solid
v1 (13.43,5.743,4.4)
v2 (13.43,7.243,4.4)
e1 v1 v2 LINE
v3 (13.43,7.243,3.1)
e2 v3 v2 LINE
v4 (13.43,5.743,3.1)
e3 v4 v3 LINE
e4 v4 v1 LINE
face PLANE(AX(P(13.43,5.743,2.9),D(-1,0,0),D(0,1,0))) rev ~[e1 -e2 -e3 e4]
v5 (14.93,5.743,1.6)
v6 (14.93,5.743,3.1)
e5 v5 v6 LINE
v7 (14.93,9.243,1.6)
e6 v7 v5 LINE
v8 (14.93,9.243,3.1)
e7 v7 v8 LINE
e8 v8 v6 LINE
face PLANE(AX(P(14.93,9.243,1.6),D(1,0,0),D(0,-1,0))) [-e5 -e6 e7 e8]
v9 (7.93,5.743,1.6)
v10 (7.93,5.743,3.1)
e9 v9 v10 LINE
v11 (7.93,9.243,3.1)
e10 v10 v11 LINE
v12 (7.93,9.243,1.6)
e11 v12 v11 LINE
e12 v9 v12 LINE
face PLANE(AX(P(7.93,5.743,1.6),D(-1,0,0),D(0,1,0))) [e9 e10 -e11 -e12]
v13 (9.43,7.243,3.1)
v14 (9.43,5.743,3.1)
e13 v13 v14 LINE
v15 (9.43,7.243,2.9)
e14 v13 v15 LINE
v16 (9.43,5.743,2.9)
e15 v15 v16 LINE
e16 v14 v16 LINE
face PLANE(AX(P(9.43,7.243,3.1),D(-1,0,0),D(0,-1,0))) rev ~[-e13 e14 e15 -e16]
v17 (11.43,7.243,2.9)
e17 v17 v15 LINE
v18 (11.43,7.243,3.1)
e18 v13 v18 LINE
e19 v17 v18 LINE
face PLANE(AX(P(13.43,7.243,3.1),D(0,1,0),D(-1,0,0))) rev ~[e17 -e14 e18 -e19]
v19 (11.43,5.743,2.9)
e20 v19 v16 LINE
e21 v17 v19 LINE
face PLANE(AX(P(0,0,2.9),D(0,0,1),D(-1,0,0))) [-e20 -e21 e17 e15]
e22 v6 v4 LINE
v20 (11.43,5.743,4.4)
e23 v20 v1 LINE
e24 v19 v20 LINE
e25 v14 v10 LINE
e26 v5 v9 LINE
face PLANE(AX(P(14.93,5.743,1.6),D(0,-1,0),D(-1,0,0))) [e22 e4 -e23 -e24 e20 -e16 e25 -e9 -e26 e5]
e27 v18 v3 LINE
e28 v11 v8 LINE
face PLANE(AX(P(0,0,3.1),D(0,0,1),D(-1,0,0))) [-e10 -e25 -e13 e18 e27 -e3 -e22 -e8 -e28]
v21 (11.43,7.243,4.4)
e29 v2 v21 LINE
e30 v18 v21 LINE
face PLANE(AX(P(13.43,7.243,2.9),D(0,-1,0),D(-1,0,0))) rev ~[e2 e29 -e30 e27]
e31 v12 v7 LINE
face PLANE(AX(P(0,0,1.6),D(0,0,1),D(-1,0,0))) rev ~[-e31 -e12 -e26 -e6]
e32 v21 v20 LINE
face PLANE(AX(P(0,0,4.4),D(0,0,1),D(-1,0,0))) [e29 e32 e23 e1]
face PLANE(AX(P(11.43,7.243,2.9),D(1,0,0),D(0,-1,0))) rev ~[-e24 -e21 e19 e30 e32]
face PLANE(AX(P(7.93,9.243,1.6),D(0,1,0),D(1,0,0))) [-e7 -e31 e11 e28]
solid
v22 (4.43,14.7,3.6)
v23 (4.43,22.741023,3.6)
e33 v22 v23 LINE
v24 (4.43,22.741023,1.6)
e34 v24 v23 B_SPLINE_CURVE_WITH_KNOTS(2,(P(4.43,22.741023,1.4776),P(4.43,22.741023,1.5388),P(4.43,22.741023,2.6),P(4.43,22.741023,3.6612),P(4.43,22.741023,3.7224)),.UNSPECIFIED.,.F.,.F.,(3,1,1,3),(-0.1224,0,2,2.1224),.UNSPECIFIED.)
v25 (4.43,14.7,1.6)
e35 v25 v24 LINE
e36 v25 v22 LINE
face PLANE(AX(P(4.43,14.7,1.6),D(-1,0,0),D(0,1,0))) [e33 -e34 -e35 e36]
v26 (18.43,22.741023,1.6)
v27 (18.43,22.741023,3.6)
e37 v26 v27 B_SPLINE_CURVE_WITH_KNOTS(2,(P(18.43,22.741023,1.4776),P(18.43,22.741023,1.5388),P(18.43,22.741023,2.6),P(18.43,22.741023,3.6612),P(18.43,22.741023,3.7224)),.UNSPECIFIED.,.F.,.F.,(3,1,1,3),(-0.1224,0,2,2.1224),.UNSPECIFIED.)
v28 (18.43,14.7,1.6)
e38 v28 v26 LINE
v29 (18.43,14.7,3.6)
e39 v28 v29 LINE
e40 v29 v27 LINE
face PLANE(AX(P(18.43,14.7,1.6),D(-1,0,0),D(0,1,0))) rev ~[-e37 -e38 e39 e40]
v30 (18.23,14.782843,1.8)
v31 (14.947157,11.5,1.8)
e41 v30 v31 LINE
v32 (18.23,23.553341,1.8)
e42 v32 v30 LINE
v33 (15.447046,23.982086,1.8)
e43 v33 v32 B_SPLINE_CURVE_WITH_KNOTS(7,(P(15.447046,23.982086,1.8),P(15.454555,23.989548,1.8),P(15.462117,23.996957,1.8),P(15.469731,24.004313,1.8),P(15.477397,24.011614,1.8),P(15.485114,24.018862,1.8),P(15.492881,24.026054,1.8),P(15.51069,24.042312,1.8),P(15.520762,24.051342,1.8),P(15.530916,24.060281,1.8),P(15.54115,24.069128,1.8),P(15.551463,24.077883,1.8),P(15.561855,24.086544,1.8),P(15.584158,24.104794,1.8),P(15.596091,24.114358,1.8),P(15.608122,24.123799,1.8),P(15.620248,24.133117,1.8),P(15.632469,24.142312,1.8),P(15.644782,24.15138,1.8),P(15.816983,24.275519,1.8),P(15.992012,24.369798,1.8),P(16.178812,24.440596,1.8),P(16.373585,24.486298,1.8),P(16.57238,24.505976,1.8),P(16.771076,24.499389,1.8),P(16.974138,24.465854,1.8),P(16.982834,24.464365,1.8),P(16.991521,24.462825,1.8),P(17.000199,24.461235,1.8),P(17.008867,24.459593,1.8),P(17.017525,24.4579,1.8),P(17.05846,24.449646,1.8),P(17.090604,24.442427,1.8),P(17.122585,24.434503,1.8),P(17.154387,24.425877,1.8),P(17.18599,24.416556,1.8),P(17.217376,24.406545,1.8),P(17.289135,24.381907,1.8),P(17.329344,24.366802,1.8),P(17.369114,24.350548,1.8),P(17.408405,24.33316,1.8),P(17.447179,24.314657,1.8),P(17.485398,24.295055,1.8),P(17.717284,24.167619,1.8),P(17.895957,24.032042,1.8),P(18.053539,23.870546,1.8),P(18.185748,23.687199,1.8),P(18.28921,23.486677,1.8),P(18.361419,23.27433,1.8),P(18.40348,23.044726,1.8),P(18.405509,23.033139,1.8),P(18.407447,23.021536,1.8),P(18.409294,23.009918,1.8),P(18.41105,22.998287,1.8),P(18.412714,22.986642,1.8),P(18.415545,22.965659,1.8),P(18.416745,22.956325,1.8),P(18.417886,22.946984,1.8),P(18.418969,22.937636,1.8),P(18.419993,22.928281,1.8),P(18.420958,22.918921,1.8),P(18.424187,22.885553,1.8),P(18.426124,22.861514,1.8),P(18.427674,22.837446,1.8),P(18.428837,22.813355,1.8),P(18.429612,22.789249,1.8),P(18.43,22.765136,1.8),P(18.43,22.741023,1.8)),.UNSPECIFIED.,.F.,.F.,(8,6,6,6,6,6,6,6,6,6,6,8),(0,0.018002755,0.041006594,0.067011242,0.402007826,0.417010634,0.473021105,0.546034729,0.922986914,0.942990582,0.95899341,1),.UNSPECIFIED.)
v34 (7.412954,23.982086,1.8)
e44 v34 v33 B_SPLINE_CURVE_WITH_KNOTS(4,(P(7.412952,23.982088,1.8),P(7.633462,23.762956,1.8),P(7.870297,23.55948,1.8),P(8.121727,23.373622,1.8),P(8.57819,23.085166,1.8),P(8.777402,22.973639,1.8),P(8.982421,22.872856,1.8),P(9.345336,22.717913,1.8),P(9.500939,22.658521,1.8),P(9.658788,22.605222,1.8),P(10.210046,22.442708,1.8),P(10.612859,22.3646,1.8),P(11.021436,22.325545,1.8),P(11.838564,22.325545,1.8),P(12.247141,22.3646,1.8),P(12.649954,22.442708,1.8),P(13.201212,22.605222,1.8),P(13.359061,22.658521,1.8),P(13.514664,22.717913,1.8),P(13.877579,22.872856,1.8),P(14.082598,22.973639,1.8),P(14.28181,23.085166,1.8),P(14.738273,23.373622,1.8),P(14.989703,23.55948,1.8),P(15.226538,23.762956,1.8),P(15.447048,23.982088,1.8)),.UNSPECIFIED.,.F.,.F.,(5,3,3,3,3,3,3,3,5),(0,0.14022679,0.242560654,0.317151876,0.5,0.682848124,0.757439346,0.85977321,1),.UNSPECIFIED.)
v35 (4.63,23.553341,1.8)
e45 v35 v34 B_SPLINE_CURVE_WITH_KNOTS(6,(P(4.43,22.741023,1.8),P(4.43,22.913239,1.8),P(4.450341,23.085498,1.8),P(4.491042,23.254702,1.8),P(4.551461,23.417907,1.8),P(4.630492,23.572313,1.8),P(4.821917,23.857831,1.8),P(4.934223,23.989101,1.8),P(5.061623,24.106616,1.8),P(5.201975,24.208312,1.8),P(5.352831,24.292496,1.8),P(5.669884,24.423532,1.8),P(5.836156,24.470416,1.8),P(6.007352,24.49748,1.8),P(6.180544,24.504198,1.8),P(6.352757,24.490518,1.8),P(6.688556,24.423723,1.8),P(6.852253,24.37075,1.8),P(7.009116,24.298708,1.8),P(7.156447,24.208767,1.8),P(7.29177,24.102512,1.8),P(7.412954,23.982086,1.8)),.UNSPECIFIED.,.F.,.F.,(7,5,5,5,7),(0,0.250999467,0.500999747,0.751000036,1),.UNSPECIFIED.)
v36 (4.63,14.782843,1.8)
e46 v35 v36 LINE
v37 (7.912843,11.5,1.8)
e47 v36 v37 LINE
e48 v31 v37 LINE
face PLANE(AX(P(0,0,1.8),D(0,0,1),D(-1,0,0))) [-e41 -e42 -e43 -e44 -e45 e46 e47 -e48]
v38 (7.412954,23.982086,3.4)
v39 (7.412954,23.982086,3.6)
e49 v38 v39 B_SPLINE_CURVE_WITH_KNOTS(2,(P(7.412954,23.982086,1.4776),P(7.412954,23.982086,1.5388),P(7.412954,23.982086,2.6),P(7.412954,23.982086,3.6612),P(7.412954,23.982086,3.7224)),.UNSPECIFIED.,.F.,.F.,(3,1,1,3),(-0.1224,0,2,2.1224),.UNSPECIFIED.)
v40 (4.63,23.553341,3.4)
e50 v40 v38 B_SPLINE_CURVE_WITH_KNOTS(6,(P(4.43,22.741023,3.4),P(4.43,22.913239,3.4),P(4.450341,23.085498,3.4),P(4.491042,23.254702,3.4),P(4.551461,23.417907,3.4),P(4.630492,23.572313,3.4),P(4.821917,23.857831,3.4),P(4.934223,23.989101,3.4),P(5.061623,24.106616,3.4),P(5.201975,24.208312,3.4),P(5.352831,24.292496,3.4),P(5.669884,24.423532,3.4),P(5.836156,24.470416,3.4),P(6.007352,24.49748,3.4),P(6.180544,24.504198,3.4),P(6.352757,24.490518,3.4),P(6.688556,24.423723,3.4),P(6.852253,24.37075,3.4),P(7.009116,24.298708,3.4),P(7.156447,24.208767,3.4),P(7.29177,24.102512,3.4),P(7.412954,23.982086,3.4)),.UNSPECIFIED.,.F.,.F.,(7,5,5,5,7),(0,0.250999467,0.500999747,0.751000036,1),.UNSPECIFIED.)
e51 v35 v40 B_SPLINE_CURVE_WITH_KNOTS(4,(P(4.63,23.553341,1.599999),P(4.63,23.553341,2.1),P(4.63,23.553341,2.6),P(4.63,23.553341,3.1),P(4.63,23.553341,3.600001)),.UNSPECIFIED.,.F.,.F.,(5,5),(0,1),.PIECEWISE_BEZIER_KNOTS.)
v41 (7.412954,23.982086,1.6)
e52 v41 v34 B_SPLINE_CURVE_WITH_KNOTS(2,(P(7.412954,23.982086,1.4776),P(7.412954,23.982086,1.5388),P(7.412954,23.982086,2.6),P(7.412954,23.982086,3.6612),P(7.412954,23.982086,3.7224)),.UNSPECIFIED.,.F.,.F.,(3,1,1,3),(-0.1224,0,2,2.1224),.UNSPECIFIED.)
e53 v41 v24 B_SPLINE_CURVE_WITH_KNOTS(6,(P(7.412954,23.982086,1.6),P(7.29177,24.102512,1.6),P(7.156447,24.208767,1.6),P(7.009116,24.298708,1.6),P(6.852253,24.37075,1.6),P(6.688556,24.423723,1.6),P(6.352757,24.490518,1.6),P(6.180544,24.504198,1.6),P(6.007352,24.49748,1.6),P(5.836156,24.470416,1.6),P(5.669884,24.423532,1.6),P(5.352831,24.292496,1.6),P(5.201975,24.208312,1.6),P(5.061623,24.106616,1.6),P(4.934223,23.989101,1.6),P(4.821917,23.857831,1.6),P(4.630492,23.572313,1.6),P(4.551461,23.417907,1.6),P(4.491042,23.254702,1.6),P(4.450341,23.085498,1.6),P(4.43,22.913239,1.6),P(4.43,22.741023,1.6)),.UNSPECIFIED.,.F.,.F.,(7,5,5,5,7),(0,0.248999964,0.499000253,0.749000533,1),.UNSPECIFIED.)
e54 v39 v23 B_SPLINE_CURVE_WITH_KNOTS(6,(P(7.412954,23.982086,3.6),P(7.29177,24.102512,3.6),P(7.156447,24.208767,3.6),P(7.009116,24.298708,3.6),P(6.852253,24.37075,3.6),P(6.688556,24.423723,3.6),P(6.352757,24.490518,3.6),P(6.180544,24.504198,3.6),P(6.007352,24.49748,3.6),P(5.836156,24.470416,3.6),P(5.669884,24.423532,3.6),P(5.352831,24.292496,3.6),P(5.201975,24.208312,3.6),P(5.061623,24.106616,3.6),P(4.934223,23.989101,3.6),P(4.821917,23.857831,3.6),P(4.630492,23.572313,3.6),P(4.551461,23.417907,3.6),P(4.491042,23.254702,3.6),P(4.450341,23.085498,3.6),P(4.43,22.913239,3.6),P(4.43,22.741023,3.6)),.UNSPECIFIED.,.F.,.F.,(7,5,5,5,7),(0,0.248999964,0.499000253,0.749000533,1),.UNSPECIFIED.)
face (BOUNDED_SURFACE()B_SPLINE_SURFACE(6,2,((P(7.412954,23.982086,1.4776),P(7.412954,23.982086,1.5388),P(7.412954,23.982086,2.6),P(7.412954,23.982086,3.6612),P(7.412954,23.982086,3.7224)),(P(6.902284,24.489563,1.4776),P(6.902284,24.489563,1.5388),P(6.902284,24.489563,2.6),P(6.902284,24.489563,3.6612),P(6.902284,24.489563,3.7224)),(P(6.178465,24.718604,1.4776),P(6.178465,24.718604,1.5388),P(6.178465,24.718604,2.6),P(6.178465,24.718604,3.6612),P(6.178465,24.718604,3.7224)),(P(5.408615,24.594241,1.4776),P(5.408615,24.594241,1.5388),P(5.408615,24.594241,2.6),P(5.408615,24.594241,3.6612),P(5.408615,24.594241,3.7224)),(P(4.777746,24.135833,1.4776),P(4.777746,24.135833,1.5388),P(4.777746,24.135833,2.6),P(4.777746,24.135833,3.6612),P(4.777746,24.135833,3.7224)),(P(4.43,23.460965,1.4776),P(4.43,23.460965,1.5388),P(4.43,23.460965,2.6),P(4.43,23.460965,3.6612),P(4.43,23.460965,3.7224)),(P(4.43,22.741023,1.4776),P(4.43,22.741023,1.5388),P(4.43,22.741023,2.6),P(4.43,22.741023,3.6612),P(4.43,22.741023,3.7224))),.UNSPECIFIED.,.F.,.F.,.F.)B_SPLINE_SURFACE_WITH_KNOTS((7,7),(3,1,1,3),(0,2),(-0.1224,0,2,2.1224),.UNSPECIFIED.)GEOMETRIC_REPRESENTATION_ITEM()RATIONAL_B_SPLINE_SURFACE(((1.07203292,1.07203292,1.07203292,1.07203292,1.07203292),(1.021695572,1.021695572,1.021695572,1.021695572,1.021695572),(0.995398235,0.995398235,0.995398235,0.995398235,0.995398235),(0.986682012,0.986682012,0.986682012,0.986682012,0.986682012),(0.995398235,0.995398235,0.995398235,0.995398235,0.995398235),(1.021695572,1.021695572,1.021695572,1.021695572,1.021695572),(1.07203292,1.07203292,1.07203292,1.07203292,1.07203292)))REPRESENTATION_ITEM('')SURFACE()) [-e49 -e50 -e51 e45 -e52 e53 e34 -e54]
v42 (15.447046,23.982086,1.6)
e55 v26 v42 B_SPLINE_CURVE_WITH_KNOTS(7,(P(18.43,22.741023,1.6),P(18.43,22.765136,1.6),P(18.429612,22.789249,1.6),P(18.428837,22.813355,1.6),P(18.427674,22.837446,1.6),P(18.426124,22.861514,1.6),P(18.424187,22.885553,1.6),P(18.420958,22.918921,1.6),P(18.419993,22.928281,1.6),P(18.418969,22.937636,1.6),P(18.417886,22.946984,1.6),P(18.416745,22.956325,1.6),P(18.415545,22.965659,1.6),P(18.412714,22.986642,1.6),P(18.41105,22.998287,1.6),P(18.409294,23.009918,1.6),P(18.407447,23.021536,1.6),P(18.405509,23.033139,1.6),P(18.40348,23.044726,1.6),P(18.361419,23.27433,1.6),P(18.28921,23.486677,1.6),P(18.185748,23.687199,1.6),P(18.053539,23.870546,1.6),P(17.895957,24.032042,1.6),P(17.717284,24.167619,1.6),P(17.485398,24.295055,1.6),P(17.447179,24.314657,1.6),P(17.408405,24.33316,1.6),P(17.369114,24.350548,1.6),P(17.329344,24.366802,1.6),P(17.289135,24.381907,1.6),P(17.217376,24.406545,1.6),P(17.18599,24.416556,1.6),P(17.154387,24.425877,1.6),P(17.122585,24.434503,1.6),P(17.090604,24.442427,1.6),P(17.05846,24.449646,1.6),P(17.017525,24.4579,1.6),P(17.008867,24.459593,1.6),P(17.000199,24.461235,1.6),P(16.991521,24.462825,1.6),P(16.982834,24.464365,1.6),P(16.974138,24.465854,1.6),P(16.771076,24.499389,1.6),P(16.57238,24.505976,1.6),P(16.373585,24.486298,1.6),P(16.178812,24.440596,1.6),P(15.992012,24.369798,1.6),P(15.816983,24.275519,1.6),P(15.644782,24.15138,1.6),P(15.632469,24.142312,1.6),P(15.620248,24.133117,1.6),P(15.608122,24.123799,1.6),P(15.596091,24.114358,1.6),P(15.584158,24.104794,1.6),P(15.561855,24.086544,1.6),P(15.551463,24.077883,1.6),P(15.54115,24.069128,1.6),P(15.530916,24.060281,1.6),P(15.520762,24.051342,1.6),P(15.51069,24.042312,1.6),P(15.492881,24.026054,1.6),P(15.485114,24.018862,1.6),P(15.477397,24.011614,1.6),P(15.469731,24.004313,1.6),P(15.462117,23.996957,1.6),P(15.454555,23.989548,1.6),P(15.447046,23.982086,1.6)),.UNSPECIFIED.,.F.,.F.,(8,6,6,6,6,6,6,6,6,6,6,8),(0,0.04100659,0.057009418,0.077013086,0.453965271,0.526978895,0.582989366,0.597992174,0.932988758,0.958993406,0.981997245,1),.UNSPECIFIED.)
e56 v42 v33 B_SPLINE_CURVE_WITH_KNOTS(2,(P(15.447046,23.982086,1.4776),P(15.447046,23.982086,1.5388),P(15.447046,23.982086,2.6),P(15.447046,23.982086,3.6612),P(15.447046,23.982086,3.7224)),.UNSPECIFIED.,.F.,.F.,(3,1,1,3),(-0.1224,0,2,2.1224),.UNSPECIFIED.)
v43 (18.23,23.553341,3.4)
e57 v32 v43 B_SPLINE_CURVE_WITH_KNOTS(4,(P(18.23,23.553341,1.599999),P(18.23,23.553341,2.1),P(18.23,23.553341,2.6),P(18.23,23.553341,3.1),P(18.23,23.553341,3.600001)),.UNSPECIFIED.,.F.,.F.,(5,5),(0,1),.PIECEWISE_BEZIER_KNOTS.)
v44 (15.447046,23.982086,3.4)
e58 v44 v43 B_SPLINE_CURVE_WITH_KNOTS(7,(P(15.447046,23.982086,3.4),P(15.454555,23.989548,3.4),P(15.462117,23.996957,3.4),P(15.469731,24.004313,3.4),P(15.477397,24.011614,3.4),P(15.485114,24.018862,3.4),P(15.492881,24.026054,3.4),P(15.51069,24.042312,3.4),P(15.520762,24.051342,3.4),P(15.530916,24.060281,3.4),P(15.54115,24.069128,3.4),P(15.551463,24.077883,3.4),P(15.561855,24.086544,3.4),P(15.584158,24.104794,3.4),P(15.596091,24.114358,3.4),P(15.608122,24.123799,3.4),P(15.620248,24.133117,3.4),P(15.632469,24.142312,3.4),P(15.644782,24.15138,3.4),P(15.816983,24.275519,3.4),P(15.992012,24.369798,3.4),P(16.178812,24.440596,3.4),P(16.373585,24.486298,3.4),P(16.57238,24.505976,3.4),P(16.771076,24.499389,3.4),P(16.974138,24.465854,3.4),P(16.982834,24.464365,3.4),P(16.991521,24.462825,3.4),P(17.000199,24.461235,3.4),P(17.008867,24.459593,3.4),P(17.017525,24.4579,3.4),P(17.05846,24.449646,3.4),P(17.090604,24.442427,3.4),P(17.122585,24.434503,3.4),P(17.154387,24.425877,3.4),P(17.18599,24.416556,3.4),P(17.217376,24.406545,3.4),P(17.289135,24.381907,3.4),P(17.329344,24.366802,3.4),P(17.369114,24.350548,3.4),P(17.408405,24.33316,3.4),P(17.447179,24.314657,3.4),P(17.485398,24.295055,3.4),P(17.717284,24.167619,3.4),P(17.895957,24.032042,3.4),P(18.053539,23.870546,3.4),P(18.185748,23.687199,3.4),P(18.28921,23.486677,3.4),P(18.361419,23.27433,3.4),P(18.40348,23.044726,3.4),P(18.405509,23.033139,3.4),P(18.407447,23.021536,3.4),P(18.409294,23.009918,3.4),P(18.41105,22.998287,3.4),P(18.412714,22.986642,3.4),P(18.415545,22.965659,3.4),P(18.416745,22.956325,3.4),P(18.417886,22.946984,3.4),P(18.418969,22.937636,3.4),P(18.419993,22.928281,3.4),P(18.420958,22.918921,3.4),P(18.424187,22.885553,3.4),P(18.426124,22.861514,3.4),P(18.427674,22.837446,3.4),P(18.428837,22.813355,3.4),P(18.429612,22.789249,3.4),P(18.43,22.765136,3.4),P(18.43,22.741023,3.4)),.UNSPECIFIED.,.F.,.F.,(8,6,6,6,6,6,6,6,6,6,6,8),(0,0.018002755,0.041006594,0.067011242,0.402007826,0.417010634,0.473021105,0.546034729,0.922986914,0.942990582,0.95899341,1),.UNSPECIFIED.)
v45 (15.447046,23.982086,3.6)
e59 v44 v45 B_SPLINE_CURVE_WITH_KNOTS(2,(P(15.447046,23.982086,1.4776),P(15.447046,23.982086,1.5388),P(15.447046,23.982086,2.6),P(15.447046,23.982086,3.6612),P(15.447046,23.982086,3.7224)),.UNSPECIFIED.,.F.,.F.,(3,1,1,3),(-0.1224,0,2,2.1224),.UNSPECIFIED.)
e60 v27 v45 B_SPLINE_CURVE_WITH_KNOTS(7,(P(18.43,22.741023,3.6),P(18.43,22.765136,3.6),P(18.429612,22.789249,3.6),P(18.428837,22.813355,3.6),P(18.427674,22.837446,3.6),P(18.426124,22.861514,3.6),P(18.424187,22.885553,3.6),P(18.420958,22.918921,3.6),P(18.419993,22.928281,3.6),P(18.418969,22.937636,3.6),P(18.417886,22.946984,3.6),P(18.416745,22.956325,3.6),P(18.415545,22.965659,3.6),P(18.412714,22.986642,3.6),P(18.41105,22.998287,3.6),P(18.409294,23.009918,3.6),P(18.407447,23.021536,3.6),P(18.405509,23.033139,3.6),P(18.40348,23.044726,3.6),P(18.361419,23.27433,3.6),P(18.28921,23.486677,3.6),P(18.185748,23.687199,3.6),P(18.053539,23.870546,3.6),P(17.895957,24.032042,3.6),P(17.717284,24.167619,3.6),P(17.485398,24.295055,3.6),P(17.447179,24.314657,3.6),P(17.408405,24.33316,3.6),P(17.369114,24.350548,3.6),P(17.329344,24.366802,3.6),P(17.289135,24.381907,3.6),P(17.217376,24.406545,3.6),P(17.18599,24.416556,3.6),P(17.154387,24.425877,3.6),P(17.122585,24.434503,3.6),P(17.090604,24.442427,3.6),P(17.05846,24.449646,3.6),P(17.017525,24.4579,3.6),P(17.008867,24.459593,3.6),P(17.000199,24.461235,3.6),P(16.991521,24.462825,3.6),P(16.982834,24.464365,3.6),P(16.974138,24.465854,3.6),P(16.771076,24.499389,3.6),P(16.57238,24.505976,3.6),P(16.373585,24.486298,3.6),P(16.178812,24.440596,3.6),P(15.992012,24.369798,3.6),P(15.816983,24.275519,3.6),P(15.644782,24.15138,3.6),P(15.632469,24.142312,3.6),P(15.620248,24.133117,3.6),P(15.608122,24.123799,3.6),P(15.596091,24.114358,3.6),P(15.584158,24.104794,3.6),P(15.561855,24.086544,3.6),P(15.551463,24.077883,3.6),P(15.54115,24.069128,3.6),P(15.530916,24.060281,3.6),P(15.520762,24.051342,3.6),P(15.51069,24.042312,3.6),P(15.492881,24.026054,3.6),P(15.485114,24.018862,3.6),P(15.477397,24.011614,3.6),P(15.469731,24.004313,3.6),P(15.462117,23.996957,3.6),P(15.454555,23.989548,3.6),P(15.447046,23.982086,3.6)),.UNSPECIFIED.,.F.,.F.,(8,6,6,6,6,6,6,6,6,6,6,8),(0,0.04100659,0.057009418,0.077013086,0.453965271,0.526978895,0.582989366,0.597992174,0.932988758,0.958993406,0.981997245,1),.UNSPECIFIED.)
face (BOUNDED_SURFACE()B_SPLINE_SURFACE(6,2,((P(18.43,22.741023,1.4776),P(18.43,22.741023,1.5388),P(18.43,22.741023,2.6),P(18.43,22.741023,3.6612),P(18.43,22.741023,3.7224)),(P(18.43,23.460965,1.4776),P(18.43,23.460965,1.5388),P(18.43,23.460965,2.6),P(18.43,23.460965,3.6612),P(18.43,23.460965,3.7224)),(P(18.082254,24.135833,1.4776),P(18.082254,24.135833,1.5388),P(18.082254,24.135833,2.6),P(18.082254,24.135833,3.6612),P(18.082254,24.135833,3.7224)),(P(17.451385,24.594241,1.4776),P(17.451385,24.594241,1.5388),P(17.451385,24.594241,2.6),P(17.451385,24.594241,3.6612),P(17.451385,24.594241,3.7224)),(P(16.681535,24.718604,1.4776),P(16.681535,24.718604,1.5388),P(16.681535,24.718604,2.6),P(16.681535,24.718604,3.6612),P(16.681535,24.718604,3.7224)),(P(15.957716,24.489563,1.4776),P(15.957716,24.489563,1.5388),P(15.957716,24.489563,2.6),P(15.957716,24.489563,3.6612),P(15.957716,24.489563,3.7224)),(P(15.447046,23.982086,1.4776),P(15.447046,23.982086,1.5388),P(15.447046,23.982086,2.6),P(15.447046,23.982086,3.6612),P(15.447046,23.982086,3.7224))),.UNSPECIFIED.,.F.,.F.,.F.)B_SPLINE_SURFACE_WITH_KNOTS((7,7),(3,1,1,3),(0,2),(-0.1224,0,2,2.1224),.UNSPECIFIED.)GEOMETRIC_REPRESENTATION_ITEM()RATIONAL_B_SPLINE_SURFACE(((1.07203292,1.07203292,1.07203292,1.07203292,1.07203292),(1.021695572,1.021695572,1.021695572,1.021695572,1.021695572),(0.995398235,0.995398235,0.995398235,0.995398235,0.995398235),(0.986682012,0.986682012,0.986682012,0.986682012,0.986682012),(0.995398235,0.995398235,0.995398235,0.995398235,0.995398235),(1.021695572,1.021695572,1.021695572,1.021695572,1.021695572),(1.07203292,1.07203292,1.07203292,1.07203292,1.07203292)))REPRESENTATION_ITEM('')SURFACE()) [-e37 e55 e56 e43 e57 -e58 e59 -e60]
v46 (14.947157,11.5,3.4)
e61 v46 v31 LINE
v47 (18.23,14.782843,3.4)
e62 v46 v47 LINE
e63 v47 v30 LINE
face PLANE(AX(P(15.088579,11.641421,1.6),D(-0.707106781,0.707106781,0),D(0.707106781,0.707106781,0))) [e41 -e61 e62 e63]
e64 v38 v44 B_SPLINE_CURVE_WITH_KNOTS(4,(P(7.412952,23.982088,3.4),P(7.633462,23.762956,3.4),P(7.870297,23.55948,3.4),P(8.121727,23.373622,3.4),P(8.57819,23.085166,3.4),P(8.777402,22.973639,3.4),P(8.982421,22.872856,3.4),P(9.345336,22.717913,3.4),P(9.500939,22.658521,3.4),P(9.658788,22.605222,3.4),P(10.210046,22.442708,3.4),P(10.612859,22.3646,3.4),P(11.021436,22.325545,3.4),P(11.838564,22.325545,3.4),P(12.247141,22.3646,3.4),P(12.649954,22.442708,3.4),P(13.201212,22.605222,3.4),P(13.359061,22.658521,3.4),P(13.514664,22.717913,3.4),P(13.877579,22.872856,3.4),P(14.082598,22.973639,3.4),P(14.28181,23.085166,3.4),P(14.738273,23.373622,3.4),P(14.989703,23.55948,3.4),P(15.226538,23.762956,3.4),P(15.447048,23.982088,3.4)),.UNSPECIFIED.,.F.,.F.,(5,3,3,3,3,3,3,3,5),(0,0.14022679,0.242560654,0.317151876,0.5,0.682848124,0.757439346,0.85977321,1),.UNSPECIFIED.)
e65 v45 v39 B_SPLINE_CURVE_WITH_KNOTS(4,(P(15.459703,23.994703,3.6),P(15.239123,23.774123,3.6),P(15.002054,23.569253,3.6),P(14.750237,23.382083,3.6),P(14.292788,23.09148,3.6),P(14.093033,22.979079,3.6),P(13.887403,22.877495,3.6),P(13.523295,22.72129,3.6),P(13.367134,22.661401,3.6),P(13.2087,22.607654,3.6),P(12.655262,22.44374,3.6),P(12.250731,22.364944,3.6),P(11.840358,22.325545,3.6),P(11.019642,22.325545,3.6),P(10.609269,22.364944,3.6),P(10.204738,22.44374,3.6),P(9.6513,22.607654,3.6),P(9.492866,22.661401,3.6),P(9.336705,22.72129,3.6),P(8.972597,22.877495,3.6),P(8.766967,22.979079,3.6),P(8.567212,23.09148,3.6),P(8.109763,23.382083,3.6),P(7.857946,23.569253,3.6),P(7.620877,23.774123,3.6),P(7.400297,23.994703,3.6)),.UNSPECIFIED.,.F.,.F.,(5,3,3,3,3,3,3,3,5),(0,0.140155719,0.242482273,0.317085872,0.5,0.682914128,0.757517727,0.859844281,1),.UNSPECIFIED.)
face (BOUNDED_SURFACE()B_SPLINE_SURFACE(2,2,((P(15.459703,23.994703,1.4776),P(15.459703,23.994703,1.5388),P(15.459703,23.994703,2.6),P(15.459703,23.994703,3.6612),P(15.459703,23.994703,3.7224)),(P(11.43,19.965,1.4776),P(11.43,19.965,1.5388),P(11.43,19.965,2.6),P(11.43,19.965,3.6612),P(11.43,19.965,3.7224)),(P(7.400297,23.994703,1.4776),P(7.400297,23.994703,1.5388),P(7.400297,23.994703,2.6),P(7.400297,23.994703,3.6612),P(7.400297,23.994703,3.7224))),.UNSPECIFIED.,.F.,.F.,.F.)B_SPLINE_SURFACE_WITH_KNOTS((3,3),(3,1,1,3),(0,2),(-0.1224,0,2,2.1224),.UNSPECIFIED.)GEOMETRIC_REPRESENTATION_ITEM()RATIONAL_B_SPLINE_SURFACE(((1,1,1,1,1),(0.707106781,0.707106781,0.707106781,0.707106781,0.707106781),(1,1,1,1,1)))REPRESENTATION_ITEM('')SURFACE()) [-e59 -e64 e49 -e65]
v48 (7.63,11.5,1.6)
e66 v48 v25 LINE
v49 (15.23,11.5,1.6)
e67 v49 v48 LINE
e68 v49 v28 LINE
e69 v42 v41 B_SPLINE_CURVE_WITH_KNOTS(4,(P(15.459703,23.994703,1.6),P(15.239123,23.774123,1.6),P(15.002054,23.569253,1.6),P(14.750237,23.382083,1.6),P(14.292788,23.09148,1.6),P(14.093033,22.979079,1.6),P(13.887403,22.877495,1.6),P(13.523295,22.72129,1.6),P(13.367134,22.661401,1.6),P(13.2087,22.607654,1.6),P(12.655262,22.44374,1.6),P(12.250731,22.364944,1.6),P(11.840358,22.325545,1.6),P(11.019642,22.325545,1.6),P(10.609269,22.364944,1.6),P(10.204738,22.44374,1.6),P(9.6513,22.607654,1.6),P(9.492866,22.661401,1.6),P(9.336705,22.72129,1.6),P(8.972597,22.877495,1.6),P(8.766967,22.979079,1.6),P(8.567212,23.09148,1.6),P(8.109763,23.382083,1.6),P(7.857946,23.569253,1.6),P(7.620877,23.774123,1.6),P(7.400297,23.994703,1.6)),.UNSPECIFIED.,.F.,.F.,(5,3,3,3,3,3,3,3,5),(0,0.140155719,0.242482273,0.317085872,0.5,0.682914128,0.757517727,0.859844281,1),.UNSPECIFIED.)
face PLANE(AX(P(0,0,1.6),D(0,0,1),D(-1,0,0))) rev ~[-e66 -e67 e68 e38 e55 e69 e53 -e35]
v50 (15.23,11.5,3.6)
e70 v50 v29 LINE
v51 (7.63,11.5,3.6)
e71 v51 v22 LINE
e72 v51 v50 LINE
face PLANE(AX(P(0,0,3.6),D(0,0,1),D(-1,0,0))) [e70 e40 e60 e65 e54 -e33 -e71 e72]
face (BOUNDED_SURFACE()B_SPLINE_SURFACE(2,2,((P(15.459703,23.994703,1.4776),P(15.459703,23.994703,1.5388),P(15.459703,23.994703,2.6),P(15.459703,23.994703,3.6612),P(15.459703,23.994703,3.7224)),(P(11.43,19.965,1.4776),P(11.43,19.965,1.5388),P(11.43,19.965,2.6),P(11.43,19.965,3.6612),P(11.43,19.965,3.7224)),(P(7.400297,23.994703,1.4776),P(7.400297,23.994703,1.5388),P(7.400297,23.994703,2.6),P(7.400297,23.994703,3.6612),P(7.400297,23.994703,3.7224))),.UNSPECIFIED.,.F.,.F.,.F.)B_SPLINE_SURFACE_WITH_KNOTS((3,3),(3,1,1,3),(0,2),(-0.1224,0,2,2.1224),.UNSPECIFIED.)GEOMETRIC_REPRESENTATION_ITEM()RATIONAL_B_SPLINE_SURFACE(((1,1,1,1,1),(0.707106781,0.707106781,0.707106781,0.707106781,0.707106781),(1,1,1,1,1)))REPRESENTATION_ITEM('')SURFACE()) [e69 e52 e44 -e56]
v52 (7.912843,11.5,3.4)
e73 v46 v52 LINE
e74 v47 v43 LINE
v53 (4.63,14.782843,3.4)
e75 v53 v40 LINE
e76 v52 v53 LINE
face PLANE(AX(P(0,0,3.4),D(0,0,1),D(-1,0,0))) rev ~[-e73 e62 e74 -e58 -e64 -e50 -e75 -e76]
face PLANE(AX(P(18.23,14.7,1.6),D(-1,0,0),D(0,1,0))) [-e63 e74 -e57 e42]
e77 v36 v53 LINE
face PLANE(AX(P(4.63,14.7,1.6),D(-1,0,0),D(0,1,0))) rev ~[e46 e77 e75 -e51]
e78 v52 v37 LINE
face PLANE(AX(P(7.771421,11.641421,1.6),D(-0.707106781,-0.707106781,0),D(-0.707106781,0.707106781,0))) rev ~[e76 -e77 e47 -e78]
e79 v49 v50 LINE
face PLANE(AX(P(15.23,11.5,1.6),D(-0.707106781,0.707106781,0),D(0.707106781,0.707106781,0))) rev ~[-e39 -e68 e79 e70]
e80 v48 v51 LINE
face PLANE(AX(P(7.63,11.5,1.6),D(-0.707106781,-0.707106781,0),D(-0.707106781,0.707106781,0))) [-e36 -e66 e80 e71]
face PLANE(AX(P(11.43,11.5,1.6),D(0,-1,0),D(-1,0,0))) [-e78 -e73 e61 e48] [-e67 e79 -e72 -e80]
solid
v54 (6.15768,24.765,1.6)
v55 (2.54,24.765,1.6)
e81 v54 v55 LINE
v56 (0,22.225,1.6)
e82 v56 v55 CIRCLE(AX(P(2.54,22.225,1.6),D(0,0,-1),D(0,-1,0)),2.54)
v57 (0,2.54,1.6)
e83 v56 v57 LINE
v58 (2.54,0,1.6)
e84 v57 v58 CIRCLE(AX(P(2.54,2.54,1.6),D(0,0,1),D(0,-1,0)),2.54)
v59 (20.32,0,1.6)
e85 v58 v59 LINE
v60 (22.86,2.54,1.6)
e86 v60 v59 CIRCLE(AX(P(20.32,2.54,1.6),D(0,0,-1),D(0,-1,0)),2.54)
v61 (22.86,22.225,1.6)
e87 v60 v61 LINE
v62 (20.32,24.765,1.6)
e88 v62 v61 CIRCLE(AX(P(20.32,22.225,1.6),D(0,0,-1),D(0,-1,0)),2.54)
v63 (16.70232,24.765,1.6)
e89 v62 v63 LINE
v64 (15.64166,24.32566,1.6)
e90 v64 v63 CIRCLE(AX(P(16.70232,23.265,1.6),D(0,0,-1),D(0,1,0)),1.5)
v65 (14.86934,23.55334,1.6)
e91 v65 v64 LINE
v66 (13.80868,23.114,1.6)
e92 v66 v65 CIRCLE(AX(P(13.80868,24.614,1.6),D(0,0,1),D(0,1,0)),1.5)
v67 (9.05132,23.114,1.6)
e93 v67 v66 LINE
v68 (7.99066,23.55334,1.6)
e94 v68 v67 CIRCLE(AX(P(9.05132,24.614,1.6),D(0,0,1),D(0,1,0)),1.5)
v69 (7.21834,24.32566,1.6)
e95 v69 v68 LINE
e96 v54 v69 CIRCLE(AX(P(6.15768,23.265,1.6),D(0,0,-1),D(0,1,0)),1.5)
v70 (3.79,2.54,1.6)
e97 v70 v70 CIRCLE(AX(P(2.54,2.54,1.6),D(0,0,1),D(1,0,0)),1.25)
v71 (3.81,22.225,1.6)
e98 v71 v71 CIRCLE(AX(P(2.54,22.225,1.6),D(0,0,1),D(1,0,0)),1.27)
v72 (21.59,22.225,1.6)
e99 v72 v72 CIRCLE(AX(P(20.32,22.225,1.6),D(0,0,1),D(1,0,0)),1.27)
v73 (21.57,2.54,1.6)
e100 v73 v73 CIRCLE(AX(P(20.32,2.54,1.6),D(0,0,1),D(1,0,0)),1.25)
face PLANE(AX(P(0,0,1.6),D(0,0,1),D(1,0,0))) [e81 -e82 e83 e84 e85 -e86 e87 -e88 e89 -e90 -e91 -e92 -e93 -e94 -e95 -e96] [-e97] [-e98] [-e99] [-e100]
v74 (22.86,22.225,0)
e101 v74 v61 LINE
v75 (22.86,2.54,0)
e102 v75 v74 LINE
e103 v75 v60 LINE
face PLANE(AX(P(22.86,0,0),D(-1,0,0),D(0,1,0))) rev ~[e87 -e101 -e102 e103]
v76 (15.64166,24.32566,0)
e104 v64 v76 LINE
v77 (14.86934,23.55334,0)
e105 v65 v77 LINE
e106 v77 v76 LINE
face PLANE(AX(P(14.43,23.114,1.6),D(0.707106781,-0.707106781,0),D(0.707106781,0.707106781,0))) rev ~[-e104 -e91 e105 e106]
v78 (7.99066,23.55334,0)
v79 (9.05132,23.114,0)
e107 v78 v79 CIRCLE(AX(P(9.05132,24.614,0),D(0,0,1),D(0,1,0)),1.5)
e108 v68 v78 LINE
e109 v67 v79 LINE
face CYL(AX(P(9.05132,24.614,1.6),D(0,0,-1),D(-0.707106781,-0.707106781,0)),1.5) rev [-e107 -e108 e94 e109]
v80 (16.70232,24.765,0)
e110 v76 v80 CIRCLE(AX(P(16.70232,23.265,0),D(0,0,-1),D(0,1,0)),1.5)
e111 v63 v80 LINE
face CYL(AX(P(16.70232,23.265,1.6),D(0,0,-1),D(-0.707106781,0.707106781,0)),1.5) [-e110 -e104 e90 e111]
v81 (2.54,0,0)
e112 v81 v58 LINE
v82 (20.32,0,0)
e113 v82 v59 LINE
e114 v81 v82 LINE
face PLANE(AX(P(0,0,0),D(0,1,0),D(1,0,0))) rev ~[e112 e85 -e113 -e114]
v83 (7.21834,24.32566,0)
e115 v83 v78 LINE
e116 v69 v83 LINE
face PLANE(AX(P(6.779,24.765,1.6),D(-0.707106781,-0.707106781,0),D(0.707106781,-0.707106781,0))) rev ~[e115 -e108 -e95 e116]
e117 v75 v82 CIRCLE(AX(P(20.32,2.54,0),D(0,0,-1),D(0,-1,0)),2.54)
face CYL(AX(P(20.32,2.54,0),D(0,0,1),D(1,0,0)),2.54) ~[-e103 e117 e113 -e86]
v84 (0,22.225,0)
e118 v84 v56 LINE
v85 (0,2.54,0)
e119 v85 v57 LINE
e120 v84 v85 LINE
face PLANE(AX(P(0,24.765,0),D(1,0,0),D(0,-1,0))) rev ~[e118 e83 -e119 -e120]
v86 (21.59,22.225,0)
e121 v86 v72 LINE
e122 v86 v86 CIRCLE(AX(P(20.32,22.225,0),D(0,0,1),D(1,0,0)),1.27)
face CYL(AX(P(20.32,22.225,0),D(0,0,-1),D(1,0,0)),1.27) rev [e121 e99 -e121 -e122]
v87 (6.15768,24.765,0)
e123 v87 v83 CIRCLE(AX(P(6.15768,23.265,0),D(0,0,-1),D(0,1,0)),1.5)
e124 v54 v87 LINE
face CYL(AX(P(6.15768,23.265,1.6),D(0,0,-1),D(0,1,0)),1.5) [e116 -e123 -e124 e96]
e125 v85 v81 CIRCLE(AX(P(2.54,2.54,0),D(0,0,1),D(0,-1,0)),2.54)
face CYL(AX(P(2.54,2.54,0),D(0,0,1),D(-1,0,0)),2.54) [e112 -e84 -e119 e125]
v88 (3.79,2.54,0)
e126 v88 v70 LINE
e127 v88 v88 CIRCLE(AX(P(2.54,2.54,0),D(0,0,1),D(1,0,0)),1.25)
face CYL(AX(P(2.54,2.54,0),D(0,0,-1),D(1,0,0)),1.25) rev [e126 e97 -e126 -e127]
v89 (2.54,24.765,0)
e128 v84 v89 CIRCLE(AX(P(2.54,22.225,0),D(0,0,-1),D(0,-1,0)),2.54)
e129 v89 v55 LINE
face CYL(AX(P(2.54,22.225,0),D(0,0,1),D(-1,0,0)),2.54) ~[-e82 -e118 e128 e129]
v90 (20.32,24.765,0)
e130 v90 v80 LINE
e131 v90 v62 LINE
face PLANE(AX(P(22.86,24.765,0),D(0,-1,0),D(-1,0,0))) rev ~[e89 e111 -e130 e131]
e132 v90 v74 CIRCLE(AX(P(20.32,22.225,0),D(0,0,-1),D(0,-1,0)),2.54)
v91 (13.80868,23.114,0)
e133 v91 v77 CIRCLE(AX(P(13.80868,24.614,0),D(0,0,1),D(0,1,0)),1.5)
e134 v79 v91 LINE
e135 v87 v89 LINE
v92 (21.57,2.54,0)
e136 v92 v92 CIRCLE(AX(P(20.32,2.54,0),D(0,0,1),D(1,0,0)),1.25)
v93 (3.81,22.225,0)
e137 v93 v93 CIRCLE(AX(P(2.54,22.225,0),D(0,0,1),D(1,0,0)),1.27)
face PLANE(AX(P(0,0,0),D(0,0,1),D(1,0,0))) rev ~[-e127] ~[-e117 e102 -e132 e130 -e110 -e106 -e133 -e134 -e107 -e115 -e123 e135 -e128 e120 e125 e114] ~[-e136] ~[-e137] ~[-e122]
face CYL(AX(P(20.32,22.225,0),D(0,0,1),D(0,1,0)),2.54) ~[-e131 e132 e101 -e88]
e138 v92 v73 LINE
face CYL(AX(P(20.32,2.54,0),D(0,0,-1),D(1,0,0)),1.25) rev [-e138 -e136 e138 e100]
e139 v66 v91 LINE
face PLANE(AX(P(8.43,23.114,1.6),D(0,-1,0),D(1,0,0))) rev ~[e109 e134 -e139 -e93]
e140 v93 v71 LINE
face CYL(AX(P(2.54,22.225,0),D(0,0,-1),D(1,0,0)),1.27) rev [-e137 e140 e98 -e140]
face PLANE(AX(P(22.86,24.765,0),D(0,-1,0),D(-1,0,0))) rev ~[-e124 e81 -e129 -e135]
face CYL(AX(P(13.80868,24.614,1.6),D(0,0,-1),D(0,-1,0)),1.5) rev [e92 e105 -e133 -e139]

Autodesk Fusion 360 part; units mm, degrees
sketch "PCB" plane through (0, 0, 0) normal (0, 0, 1) x (1, 0, 0)
  line L0 (0, 0) -> (22.86, 0)
  line L1 (22.86, 0) -> (22.86, 24.765)
  line L2 (22.86, 24.765) -> (0, 24.765)
  line L3 (0, 24.765) -> (0, 0)
  circle A0 centre (2.54, 2.54) radius 1.25
  circle A1 centre (20.32, 2.54) radius 1.25
  circle A2 centre (2.54, 22.225) radius 1.27
  circle A3 centre (20.32, 22.225) radius 1.27
  dimension "d1" = 22.86
  dimension "d2" = 24.765
  dimension "d3" = 2.5
  dimension "d4" = 2.54
  dimension "d5" = 2.54
  dimension "d6" = 2.5
  dimension "d8" = 2.54
  dimension "d9" = 20.32
  dimension "d10" = 2.54
  dimension "d11" = 22.225
  dimension "d12" = 2.54
  dimension "d13" = 2.54
  dimension "d15" = 20.32
  dimension "d16" = 22.225
extrude "Extrude1" add sketch "PCB" along normal blind 1.6 makes body 1
fillet "Fillet1" radius 2.54 4 edges at (0, 0, 0.8) (0, 24.765, 0.8) (22.86, 24.765, 0.8) (22.86, 0, 0.8) on bodies 1
sketch "battery cut" plane through (0, 0, 1.6) normal (0, 0, 1) x (-1, 0, 0)
  arc A0 (-20.32, 0) -> (-22.86, -2.54) centre (-20.32, -2.54) ccw
  line L0 (-22.86, -2.54) -> (-22.86, -22.225)
  arc A1 (-22.86, -22.225) -> (-20.32, -24.765) centre (-20.32, -22.225) ccw
  line L1 (-20.32, -24.765) -> (-2.54, -24.765)
  arc A2 (-2.54, -24.765) -> (0, -22.225) centre (-2.54, -22.225) ccw
  line L2 (0, -22.225) -> (0, -2.54)
  arc A3 (0, -2.54) -> (-2.54, 0) centre (-2.54, -2.54) ccw
  line L3 (-2.54, 0) -> (-20.32, 0)
  circle A4 centre (-2.54, -2.54) radius 1.25
  circle A5 centre (-2.54, -22.225) radius 1.27
  circle A6 centre (-20.32, -2.54) radius 1.25
  circle A7 centre (-20.32, -22.225) radius 1.27
  line L4 (-11.43, -24.765) -> (-11.43, 0) construction
  line L5 (-6.779, -24.765) -> (-8.43, -23.114)
  line L6 (-8.43, -23.114) -> (-14.43, -23.114)
  line L7 (-14.43, -23.114) -> (-16.081, -24.765)
  line L8 (-11.43, -23.114) -> (-11.43, -24.765) construction
  dimension "d20" = 6
  dimension "d21" = 135
  dimension "d22" = 135
  dimension "d26" = 23.114
extrude "Extrude2" cut sketch "battery cut" against normal up to surface (1.6 mm away) contours L1 L5 L6 L7 bodies 1
fillet "Fillet2" radius 1.5 4 edges at (14.43, 23.114, 0.8) (16.081, 24.765, 0.8) (8.43, 23.114, 0.8) (6.779, 24.765, 0.8) on bodies 1
sketch "switch" plane through (0, 0, 1.6) normal (0, 0, 1) x (-1, 0, 0)
  circle A0 centre (-20.32, -22.225) radius 1.27
  circle A1 centre (-20.32, -2.54) radius 1.25
  circle A2 centre (-2.54, -22.225) radius 1.27
  circle A3 centre (-2.54, -2.54) radius 1.25
  arc A4 (-7.2183, -24.3257) -> (-6.1577, -24.765) centre (-6.1577, -23.265) ccw
  line L0 (-6.1577, -24.765) -> (-2.54, -24.765)
  arc A5 (-2.54, -24.765) -> (0, -22.225) centre (-2.54, -22.225) ccw
  line L1 (0, -22.225) -> (0, -2.54)
  arc A6 (0, -2.54) -> (-2.54, 0) centre (-2.54, -2.54) ccw
  line L2 (-2.54, 0) -> (-20.32, 0)
  arc A7 (-20.32, 0) -> (-22.86, -2.54) centre (-20.32, -2.54) ccw
  line L3 (-22.86, -2.54) -> (-22.86, -22.225)
  arc A8 (-22.86, -22.225) -> (-20.32, -24.765) centre (-20.32, -22.225) ccw
  line L4 (-20.32, -24.765) -> (-16.7023, -24.765)
  arc A9 (-16.7023, -24.765) -> (-15.6417, -24.3257) centre (-16.7023, -23.265) ccw
  line L5 (-15.6417, -24.3257) -> (-14.8693, -23.5533)
  arc A10 (-13.8087, -23.114) -> (-14.8693, -23.5533) centre (-13.8087, -24.614) ccw
  line L6 (-13.8087, -23.114) -> (-9.0513, -23.114)
  arc A11 (-7.9907, -23.5533) -> (-9.0513, -23.114) centre (-9.0513, -24.614) ccw
  line L7 (-7.9907, -23.5533) -> (-7.2183, -24.3257)
  line L8 (-11.43, 0) -> (-11.43, -23.114) construction
  line L9 (-14.93, -5.743) -> (-7.93, -5.743)
  line L10 (-7.93, -5.743) -> (-7.93, -9.243)
  line L11 (-7.93, -9.243) -> (-14.93, -9.243)
  line L12 (-14.93, -9.243) -> (-14.93, -5.743)
  line L13 (-14.93, -5.743) -> (-7.93, -9.243) construction
  line L14 (-7.93, -5.743) -> (-14.93, -9.243) construction
  point P0 (-11.43, -7.493)
  dimension "d27" = 7
  dimension "d28" = 3.5
  dimension "d29" = 7.493
extrude "Extrude3" add sketch "switch" along normal blind 1.5 separate body contours L9 L10 L11 L12 makes body 2
sketch "actuator" plane through (0, 0, 3.1) normal (0, 0, 1) x (-1, 0, 0)
  line L0 (-14.93, -9.243) -> (-7.93, -9.243)
  line L1 (-7.93, -9.243) -> (-7.93, -5.743)
  line L2 (-7.93, -5.743) -> (-14.93, -5.743)
  line L3 (-14.93, -5.743) -> (-14.93, -9.243)
  line L4 (-11.43, -9.243) -> (-11.43, -5.743)
  line L5 (-9.43, -5.743) -> (-13.43, -5.743)
  line L6 (-13.43, -5.743) -> (-13.43, -7.243)
  line L7 (-13.43, -7.243) -> (-9.43, -7.243)
  line L8 (-9.43, -7.243) -> (-9.43, -5.743)
  dimension "d32" = 1.5
  dimension "d33" = 1.5
  dimension "d34" = 1.5
extrude "Extrude5" cut sketch "actuator" against normal blind 0.2 contours L2 L4 L5 L6 L7 | L2 L4 L5 L7 L8 bodies 2
extrude "Extrude6" add sketch "actuator" along normal blind 1.5 from surface at -0.2 contours L2 L4 L5 L6 L7 bodies 2
sketch "battery holder" plane through (0, 0, 1.6) normal (0, 0, 1) x (-1, 0, 0)
  circle A0 centre (-20.32, -22.225) radius 1.27
  circle A1 centre (-20.32, -2.54) radius 1.25
  circle A2 centre (-2.54, -22.225) radius 1.27
  circle A3 centre (-2.54, -2.54) radius 1.25
  arc A4 (-7.2183, -24.3257) -> (-6.1577, -24.765) centre (-6.1577, -23.265) ccw
  line L0 (-6.1577, -24.765) -> (-2.54, -24.765)
  arc A5 (-2.54, -24.765) -> (0, -22.225) centre (-2.54, -22.225) ccw
  line L1 (0, -22.225) -> (0, -2.54)
  arc A6 (0, -2.54) -> (-2.54, 0) centre (-2.54, -2.54) ccw
  line L2 (-2.54, 0) -> (-20.32, 0)
  arc A7 (-20.32, 0) -> (-22.86, -2.54) centre (-20.32, -2.54) ccw
  line L3 (-22.86, -2.54) -> (-22.86, -22.225)
  arc A8 (-22.86, -22.225) -> (-20.32, -24.765) centre (-20.32, -22.225) ccw
  line L4 (-20.32, -24.765) -> (-16.7023, -24.765)
  arc A9 (-16.7023, -24.765) -> (-15.6417, -24.3257) centre (-16.7023, -23.265) ccw
  line L5 (-15.6417, -24.3257) -> (-14.8693, -23.5533)
  arc A10 (-13.8087, -23.114) -> (-14.8693, -23.5533) centre (-13.8087, -24.614) ccw
  line L6 (-13.8087, -23.114) -> (-9.0513, -23.114)
  arc A11 (-7.9907, -23.5533) -> (-9.0513, -23.114) centre (-9.0513, -24.614) ccw
  line L7 (-7.9907, -23.5533) -> (-7.2183, -24.3257)
  line L8 (-11.43, -23.114) -> (-11.43, 0) construction
  line L9 (-4.43, -24.565) -> (-6.83, -24.565)
  line L10 (-6.83, -24.565) -> (-9.095, -22.3)
  line L11 (-9.095, -22.3) -> (-11.43, -22.3)
  line L12 (-11.43, -11.5) -> (-7.63, -11.5)
  line L13 (-7.63, -11.5) -> (-4.43, -14.7)
  line L14 (-4.43, -14.7) -> (-4.43, -24.565)
  line L15 (-11.43, -11.5) -> (-15.23, -11.5)
  line L16 (-15.23, -11.5) -> (-18.43, -14.7)
  line L17 (-18.43, -14.7) -> (-18.43, -24.565)
  line L18 (-18.43, -24.565) -> (-16.03, -24.565)
  line L19 (-16.03, -24.565) -> (-13.765, -22.3)
  line L20 (-13.765, -22.3) -> (-11.43, -22.3)
  dimension "d42" = 3.8
  dimension "d44" = 135
  dimension "d46" = 10.8
  dimension "d47" = 11.5
  dimension "d49" = 135
  dimension "d51" = 7
  dimension "d57" = 2.4
  dimension "d58" = 0.2
extrude "Extrude8" add sketch "battery holder" along normal blind 2 separate body contours L9 L10 L11 L12 L13 L14 L15 L16 L17 L18 L19 L20 makes body 3
fillet "Fillet5" radius 5.7 2 edges at (13.765, 22.3, 2.6) (9.095, 22.3, 2.6) on bodies 3
fillet "Fillet6" radius 1.75 4 edges at (18.43, 24.565, 2.6) (16.03, 24.565, 2.6) (6.83, 24.565, 2.6) (4.43, 24.565, 2.6) on bodies 3
shell "Shell1" thickness 0.2 removed faces 4 at (12.6967, 11.5, 2.2667) at (17.6818, 24.1757, 2.2667) at (12.2572, 22.3859, 2.2667) at (4.8091, 23.8287, 2.9333) on bodies 3
equation "d42 = ( 7.6 / 2 ) * 1 mm"
